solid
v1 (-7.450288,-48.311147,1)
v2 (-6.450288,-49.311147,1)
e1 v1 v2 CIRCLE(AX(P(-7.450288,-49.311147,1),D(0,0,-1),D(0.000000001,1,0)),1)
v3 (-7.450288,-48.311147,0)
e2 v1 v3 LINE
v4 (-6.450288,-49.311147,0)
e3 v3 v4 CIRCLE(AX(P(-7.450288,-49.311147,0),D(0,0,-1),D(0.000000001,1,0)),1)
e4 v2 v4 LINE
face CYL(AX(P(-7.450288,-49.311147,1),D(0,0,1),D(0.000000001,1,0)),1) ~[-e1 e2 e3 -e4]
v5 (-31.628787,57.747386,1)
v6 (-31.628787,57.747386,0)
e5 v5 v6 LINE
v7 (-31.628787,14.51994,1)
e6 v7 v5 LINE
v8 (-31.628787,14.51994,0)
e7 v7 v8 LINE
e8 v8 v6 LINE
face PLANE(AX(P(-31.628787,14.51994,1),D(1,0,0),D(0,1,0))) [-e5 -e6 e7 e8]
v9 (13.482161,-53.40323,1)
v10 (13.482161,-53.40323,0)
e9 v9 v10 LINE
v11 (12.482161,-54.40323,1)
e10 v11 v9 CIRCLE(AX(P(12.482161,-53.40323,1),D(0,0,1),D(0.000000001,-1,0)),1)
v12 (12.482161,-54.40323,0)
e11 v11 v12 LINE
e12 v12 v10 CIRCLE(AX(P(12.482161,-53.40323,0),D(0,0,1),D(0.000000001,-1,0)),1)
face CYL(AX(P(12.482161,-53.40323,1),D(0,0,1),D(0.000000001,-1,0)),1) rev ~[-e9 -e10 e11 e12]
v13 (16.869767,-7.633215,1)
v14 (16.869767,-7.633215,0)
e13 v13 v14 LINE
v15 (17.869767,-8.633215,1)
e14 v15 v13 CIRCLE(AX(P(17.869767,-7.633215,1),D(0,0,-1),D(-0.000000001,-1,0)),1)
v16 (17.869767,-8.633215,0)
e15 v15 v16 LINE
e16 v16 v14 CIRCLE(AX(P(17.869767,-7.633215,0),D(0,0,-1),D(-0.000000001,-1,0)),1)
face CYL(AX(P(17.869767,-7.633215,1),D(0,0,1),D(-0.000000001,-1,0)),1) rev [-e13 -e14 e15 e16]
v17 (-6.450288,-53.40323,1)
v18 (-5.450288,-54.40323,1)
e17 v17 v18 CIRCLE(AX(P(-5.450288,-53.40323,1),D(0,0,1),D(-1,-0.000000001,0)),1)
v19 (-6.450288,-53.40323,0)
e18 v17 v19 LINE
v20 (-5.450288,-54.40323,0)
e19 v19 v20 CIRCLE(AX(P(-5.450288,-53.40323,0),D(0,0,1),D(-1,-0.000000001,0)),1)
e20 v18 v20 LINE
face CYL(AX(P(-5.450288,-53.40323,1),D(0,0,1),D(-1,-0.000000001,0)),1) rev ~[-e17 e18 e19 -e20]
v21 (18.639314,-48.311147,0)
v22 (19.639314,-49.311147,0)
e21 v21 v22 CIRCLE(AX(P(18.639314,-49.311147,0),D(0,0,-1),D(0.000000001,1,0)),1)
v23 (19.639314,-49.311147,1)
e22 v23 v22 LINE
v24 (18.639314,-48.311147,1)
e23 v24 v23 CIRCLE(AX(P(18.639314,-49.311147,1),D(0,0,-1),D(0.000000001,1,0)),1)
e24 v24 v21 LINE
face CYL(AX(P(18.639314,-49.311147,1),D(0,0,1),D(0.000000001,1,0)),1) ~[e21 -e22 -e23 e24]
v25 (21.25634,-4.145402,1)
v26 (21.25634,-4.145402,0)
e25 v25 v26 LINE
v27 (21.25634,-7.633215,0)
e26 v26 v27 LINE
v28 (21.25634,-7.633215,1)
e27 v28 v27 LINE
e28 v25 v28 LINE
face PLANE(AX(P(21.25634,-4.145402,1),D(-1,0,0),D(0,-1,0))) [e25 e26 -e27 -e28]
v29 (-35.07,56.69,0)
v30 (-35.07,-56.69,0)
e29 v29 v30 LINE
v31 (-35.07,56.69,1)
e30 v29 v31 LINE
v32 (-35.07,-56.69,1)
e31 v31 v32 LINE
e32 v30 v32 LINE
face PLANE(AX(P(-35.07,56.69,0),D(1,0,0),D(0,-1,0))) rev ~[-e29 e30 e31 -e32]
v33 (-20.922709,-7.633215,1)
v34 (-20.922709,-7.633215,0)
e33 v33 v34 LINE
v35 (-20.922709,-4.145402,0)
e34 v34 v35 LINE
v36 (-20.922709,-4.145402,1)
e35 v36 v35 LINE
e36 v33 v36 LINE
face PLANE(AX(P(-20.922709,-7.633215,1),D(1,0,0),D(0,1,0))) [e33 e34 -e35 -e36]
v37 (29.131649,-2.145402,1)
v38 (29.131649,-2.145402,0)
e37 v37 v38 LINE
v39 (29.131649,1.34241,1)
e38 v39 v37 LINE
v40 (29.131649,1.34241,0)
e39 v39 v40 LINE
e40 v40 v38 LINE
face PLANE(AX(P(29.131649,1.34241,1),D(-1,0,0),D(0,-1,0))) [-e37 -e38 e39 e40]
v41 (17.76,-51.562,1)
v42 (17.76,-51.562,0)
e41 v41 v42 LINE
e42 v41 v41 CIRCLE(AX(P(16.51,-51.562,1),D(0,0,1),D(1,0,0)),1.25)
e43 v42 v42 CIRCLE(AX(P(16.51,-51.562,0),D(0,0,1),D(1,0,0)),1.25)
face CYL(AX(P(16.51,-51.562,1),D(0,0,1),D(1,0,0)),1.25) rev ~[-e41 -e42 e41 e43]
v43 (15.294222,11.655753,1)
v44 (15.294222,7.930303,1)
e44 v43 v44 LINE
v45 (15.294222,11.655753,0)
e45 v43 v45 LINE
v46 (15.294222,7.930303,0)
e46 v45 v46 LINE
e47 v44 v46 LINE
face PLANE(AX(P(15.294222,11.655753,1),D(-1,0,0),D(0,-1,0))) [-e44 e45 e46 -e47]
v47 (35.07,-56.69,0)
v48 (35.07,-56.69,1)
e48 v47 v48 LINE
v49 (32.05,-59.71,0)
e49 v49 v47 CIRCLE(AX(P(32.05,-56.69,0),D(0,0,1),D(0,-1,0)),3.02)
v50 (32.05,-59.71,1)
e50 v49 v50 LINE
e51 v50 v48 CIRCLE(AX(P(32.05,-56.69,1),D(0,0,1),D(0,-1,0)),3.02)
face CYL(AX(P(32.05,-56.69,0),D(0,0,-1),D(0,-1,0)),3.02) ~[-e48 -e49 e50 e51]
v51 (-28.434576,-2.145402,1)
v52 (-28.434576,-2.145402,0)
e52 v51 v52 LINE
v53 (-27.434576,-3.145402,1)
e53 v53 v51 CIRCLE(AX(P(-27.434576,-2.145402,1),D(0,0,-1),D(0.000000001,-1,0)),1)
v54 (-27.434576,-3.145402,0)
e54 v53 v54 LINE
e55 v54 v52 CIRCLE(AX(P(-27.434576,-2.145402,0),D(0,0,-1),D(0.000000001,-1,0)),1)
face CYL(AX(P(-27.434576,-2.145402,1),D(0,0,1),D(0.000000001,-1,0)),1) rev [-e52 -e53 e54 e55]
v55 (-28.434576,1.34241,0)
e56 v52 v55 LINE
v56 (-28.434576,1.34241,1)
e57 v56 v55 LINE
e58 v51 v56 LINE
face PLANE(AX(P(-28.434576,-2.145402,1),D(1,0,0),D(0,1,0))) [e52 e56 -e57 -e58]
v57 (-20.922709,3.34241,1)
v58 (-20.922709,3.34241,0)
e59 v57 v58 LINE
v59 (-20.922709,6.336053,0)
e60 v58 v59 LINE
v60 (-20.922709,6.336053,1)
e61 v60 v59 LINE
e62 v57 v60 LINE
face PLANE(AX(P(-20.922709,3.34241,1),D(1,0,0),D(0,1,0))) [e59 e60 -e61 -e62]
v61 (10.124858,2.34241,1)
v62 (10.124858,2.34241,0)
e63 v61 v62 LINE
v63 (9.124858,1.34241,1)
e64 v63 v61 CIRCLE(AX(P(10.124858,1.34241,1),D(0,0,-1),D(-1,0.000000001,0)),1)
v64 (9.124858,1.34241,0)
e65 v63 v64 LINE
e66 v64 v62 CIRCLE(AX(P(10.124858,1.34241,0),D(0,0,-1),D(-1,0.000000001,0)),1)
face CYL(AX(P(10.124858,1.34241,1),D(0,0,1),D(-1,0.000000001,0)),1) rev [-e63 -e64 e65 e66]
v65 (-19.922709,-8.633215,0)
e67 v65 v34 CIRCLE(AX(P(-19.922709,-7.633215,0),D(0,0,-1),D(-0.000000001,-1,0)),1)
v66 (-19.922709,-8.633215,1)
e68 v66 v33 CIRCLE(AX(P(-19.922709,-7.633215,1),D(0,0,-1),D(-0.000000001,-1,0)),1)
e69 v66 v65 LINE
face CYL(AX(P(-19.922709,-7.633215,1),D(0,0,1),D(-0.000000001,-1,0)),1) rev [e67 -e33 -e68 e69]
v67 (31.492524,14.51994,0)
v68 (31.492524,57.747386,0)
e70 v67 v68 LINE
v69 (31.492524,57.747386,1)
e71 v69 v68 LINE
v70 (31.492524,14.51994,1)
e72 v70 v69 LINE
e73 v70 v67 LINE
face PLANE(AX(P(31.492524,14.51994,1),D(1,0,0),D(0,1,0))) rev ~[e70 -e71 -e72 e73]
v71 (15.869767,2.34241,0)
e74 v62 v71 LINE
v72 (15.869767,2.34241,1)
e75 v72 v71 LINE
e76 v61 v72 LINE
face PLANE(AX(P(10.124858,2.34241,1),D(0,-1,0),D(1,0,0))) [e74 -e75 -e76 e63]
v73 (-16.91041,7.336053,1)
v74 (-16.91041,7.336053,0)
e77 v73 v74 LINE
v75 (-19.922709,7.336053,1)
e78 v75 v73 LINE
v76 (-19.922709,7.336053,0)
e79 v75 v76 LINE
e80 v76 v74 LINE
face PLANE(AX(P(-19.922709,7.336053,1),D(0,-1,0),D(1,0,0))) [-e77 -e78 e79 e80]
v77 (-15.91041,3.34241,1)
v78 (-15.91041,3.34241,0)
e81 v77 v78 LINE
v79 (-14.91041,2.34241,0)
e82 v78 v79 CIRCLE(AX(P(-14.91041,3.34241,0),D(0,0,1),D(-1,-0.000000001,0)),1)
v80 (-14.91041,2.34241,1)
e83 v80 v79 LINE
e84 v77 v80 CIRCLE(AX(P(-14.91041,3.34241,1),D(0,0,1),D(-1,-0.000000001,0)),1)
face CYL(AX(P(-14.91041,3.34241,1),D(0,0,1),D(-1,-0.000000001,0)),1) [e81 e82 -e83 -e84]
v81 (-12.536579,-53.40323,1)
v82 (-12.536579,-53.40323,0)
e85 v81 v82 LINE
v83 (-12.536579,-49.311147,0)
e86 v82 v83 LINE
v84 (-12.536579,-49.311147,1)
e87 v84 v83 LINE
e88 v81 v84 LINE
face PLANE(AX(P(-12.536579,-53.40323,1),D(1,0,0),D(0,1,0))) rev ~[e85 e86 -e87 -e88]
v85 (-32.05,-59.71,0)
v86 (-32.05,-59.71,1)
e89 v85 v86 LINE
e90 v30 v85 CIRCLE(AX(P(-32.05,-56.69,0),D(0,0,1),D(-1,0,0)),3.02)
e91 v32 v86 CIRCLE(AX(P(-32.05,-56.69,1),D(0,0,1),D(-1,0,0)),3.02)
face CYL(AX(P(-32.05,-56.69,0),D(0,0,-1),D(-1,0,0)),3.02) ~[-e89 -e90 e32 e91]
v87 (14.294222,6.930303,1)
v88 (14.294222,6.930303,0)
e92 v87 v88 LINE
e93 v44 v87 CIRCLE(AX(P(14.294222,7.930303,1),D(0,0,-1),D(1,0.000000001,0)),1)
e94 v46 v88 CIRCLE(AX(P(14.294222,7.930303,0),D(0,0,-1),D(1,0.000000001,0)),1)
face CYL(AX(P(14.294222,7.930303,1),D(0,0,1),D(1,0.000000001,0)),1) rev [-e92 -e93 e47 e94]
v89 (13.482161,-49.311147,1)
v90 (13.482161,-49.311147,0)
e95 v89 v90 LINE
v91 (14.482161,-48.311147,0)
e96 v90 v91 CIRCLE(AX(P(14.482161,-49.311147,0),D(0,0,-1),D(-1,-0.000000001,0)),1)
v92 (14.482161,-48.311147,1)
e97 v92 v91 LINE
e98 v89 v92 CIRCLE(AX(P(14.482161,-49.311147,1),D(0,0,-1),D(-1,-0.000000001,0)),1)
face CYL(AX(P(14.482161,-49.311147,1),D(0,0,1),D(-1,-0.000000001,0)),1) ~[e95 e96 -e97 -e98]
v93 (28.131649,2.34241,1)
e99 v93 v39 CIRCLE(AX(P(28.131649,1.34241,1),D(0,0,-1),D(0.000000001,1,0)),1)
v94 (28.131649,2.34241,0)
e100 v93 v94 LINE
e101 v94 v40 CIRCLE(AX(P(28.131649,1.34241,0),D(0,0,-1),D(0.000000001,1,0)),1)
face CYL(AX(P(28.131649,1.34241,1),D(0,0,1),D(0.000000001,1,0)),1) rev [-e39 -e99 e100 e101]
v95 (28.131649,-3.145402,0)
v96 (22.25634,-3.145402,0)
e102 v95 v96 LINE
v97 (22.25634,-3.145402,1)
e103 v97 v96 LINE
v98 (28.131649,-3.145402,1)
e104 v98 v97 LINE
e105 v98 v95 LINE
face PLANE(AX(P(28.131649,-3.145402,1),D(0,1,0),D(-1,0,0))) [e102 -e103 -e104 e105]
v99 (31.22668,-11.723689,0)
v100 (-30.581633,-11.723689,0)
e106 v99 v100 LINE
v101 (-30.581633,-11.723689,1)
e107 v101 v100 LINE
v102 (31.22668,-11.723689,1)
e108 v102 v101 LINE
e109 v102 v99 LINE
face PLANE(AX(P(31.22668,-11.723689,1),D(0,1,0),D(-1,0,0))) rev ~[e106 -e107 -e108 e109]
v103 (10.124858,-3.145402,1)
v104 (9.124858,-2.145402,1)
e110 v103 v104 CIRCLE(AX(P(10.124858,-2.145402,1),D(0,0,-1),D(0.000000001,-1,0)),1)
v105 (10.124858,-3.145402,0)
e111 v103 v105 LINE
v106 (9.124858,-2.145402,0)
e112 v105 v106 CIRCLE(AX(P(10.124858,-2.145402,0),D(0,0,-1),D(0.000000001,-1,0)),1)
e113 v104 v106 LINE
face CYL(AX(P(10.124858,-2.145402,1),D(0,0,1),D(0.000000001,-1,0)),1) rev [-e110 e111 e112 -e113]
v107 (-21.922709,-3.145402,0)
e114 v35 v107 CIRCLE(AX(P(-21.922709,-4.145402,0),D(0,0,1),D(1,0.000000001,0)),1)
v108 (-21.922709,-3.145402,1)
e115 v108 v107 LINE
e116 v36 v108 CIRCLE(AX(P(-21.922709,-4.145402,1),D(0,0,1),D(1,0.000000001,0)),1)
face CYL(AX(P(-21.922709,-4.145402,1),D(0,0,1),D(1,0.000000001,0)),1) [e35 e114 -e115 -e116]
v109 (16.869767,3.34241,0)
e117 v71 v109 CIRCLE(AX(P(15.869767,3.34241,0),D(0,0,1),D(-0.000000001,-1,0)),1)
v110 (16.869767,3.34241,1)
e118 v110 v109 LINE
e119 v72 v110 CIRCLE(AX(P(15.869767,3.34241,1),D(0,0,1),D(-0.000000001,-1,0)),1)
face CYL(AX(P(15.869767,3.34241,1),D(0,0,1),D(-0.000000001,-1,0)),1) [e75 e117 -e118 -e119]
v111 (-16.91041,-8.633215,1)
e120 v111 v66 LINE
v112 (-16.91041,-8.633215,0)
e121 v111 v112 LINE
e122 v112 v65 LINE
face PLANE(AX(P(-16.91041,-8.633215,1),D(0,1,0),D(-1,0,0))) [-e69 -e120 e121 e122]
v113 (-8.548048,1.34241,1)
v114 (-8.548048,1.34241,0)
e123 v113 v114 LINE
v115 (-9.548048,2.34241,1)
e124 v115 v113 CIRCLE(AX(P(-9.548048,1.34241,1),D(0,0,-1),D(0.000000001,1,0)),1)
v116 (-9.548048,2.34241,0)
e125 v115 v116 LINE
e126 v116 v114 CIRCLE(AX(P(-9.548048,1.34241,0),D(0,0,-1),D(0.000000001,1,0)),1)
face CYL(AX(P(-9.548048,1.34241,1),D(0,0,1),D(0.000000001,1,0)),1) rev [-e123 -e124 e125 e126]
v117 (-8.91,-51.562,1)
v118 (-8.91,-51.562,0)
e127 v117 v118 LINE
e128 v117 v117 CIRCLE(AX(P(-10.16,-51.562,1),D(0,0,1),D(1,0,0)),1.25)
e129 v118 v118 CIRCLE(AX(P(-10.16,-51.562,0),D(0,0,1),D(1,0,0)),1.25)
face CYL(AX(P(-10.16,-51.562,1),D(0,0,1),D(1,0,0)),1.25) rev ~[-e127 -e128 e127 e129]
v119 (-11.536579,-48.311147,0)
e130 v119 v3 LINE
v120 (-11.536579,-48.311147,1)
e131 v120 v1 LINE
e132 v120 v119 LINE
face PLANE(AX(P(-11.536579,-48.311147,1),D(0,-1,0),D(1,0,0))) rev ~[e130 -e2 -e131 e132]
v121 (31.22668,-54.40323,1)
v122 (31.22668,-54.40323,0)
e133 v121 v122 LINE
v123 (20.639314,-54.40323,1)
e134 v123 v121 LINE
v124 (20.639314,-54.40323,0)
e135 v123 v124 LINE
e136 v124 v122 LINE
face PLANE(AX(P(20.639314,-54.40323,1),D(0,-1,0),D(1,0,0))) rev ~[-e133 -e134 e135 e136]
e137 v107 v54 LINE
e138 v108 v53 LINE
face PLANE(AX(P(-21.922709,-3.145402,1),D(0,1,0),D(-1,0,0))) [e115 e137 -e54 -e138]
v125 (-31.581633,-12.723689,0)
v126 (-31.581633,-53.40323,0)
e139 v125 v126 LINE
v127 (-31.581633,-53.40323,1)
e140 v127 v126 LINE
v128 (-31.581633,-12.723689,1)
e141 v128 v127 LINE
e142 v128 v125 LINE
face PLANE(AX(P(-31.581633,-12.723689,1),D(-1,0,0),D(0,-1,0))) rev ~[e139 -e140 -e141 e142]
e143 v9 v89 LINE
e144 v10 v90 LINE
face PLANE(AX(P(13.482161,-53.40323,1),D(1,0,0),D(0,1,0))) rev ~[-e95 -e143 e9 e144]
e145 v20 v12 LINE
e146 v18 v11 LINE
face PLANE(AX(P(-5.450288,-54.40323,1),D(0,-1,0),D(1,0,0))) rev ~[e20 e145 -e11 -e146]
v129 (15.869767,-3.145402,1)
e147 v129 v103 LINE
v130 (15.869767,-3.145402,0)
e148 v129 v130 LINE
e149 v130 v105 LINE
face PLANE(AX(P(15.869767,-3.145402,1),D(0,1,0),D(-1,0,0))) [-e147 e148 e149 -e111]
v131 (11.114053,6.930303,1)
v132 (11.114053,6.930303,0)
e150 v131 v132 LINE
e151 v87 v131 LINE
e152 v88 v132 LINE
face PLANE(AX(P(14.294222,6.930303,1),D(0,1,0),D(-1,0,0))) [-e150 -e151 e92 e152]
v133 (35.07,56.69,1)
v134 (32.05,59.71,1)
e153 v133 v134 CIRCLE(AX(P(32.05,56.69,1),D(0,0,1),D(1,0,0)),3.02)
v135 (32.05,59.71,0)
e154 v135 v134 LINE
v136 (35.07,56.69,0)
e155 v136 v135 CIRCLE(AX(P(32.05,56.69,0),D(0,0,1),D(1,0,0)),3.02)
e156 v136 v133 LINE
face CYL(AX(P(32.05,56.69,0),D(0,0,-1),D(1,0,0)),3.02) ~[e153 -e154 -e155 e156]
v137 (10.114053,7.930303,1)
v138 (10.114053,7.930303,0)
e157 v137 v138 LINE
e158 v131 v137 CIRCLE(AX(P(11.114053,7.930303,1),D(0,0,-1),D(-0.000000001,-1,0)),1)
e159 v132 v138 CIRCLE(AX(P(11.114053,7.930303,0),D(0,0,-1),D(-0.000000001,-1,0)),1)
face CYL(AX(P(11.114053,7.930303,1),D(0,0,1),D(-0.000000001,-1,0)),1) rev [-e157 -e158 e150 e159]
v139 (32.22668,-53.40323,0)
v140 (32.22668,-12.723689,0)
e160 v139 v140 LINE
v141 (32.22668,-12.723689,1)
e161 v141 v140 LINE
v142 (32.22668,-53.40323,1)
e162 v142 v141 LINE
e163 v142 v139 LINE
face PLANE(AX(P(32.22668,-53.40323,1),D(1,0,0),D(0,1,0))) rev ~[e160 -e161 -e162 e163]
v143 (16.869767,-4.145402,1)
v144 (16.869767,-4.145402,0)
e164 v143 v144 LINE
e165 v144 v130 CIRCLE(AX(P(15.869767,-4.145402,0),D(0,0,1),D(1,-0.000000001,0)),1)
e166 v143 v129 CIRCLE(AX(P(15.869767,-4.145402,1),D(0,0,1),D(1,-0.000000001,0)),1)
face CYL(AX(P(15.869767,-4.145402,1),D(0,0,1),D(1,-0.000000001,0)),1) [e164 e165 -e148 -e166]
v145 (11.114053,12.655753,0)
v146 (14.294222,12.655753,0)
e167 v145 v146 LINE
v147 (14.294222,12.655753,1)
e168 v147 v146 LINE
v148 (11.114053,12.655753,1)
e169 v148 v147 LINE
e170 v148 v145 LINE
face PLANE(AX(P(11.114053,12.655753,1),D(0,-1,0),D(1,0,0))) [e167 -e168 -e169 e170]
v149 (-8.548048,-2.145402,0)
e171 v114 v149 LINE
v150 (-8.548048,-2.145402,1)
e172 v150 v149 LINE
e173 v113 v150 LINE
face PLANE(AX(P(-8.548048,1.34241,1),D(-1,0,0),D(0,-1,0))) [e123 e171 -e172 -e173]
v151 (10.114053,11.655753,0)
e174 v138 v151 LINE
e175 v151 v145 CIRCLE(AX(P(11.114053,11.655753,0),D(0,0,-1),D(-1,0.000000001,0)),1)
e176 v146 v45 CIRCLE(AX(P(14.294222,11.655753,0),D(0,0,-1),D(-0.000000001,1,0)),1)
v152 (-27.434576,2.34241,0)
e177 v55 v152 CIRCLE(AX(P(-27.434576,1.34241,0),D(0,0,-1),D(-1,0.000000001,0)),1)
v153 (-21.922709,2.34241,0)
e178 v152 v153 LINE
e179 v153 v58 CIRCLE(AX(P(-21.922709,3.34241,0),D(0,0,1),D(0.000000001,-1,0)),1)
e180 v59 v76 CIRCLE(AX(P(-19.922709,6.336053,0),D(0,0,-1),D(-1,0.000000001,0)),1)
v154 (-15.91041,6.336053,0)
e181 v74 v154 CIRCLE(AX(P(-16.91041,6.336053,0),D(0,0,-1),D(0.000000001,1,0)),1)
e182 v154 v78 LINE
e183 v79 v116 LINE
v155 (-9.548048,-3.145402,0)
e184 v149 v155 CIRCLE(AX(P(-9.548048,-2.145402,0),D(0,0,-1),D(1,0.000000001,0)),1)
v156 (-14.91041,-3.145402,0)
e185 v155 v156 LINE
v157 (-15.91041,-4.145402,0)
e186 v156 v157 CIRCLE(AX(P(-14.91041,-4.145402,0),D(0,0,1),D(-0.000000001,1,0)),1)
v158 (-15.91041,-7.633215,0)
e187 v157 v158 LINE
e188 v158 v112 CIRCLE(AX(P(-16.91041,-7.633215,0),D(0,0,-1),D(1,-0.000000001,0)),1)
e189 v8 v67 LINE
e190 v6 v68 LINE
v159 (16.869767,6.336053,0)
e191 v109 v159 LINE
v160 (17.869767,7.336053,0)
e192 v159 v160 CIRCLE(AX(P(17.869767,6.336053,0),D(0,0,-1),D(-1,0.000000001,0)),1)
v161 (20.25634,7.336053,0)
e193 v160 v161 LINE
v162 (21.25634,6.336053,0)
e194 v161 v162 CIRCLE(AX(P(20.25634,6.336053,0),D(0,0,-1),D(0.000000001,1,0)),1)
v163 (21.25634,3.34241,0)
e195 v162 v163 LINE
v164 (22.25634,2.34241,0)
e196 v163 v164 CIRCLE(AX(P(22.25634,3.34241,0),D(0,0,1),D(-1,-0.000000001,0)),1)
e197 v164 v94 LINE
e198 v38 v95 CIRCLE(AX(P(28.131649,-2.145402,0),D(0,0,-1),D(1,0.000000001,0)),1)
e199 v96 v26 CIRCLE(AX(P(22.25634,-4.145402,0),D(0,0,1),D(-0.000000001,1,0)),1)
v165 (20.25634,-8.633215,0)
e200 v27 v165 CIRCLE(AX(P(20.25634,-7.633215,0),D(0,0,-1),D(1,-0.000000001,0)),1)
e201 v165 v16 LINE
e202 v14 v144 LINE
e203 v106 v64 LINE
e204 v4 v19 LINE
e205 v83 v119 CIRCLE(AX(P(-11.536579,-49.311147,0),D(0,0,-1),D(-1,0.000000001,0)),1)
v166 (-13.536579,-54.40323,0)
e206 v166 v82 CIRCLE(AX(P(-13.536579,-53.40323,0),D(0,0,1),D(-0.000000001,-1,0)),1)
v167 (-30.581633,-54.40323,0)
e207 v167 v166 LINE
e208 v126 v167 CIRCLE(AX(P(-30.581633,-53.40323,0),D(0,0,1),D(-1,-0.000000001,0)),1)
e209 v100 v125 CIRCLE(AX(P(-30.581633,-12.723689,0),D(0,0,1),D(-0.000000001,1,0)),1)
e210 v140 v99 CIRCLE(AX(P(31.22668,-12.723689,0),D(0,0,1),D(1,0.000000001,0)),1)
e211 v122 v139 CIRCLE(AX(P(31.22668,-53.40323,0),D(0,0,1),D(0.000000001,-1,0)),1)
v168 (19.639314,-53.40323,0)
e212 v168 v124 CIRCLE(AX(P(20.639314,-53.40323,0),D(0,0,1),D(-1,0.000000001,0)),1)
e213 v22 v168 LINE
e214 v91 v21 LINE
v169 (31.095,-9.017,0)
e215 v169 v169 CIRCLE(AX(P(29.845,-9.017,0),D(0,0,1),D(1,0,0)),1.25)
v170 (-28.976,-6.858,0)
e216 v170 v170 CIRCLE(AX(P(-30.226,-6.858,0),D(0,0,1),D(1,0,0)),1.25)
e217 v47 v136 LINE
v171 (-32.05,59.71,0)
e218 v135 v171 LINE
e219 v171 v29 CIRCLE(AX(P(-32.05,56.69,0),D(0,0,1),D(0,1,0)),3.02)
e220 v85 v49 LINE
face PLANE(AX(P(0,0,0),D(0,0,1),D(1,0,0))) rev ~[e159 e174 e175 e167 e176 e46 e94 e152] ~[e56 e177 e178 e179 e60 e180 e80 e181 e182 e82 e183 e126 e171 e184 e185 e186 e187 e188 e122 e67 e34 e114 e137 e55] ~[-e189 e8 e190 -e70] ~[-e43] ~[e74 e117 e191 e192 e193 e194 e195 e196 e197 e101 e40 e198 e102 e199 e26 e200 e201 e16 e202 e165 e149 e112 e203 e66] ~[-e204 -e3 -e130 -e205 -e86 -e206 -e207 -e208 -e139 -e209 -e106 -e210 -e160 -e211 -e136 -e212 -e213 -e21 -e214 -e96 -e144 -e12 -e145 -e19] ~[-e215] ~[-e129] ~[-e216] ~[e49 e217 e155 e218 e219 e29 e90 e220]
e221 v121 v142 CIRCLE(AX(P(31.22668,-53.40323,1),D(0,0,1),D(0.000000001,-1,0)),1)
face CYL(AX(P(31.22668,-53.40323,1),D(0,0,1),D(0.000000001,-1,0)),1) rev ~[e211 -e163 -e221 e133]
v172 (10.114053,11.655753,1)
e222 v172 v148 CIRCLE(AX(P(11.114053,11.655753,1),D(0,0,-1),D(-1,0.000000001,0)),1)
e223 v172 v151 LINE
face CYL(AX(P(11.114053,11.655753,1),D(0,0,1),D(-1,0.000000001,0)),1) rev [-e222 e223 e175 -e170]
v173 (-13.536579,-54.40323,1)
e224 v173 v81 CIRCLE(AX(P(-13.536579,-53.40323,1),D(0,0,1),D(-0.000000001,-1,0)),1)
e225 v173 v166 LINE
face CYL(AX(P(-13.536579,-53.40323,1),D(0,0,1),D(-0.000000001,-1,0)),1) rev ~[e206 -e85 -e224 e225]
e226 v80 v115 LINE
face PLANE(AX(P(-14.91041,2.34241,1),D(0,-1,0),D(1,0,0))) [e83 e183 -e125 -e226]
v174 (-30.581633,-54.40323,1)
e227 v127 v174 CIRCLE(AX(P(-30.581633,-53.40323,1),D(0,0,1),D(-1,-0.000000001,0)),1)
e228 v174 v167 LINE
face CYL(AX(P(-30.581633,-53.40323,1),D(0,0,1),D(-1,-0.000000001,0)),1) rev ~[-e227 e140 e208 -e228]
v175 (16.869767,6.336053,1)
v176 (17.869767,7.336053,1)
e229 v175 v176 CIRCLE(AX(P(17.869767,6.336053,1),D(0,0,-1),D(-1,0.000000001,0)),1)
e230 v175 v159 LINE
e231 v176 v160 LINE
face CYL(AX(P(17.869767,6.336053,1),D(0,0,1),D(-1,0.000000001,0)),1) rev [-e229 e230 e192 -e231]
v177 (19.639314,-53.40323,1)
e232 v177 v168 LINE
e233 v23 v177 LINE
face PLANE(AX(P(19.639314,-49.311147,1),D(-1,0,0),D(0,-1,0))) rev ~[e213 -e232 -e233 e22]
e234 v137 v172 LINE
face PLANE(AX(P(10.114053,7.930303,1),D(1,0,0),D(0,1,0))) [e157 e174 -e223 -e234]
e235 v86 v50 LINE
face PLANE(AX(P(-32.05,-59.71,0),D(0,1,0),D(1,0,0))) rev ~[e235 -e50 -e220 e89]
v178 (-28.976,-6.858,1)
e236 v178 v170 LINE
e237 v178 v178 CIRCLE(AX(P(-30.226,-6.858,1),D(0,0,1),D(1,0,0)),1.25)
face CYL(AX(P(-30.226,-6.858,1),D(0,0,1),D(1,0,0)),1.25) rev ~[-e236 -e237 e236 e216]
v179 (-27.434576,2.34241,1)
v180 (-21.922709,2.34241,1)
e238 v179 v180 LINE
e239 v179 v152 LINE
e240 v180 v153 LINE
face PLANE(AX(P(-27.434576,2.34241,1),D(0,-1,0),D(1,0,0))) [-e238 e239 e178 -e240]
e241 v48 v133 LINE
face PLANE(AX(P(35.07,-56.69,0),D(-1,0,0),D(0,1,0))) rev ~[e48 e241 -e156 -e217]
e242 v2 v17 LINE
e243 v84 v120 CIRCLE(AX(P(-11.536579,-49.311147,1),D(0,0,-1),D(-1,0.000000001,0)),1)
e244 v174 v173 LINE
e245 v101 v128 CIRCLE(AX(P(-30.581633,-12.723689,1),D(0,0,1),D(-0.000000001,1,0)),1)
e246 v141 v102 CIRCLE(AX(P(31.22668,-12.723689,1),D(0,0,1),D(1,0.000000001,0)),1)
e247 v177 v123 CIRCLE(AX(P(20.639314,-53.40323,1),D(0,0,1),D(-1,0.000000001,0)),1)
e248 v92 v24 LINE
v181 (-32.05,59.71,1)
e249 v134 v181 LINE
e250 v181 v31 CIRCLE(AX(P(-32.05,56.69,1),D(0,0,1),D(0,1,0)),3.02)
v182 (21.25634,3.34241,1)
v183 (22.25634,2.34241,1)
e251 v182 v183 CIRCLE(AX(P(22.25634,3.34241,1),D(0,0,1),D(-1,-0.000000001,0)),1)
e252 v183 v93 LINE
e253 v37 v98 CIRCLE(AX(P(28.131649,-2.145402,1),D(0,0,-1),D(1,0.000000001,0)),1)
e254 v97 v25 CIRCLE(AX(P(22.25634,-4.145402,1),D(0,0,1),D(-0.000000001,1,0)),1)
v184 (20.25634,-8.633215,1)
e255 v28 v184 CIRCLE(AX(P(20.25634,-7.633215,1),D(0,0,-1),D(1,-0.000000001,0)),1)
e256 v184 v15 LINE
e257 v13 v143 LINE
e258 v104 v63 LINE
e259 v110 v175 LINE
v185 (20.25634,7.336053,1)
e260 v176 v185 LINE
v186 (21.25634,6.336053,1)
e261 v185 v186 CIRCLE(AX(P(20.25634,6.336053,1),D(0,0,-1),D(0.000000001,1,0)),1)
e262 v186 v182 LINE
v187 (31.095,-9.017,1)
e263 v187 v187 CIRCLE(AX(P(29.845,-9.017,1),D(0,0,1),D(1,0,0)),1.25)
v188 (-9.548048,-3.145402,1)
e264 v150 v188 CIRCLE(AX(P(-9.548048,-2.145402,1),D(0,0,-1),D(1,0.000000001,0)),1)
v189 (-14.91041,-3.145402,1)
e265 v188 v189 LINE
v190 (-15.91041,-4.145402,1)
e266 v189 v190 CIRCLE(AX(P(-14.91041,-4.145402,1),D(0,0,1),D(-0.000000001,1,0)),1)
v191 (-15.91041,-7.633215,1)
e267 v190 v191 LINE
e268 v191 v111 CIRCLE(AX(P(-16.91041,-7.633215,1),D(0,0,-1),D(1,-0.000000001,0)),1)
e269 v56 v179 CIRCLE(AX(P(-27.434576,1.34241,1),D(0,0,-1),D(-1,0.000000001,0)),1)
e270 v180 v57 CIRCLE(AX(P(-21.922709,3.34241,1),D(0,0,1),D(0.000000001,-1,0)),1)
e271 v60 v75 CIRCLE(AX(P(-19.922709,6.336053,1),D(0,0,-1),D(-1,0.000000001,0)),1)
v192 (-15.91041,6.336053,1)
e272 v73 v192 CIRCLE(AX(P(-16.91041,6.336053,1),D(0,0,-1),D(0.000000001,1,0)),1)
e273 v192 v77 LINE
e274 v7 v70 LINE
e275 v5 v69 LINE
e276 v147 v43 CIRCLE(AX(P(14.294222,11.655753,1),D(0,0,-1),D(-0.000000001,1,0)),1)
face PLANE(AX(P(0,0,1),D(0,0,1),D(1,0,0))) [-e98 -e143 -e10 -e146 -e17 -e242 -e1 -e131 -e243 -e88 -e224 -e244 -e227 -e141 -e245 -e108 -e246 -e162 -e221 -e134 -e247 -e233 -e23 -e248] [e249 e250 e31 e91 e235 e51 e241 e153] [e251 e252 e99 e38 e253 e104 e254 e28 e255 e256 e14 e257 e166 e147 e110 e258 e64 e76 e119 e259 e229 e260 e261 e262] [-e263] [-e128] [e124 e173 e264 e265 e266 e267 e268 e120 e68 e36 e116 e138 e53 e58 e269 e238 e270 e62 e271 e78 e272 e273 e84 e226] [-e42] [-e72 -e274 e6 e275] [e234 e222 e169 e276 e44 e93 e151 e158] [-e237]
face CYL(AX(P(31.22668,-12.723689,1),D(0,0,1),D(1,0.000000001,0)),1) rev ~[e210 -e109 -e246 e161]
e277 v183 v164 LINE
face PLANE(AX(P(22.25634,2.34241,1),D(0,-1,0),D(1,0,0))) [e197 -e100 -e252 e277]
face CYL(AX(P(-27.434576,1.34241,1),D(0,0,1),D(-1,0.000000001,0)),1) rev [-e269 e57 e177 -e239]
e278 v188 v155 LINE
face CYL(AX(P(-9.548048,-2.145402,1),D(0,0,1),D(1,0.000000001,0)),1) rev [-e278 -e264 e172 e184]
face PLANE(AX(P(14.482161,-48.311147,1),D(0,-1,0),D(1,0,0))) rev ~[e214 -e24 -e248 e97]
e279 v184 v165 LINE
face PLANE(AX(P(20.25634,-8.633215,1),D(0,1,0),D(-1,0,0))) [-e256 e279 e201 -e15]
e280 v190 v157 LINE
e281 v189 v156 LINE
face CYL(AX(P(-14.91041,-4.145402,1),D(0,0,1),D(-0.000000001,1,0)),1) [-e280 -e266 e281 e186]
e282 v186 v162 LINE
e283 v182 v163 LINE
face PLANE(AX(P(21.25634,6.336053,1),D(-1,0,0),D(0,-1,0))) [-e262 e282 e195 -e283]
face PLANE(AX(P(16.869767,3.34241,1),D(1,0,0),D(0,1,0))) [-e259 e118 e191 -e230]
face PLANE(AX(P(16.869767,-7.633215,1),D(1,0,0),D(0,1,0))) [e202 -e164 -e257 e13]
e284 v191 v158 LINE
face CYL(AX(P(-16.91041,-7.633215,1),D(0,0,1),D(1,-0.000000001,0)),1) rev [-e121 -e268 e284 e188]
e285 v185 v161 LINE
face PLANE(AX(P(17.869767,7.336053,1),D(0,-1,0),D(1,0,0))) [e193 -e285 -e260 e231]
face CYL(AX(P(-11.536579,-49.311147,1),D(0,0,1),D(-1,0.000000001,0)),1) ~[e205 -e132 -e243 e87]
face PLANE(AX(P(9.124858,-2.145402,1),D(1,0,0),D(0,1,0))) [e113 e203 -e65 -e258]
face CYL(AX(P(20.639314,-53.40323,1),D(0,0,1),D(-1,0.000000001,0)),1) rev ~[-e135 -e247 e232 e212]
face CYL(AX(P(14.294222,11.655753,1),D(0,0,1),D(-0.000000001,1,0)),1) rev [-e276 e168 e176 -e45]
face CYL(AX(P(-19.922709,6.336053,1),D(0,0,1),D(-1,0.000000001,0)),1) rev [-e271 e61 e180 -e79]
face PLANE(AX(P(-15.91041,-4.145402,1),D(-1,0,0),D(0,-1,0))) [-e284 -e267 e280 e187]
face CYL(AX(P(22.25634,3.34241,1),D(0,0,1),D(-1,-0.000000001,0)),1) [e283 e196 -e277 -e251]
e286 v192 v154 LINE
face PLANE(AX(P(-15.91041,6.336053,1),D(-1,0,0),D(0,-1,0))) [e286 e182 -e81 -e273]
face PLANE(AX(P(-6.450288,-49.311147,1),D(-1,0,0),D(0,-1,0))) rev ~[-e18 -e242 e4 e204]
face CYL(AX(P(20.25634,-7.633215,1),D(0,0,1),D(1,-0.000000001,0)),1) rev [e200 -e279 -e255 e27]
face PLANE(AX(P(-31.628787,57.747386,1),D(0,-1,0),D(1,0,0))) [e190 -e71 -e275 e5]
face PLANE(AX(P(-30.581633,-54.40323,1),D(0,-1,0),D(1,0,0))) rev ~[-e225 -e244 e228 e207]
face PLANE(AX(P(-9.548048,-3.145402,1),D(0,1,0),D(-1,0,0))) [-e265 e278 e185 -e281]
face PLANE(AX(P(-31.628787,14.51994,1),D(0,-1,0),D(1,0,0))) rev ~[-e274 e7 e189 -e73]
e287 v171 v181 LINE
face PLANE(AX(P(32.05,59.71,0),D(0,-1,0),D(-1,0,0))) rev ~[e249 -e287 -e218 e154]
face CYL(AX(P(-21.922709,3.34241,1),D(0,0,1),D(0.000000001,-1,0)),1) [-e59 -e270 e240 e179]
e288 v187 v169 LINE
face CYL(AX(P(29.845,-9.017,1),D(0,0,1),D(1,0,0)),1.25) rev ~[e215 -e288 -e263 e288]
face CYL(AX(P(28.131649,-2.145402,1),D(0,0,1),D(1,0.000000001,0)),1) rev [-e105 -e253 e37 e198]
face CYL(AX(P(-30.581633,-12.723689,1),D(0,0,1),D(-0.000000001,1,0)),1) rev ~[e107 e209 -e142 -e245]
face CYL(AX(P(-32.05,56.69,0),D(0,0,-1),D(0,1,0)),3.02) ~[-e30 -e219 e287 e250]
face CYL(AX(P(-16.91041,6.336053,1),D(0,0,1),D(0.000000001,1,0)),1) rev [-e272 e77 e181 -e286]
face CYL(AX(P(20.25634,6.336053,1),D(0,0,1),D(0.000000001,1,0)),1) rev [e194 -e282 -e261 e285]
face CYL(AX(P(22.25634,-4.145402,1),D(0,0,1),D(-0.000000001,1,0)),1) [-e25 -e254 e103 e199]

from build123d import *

# Parameters (mm, degrees)
BOSS_EXTRU_1_DEPTH      = 1
ESQUISSE2_W             = 63.121311346
ESQUISSE2_H             = 43.227445896
ENL_V_MAT_EXTRU_1_DEPTH = 1
ENL_V_MAT_EXTRU_2_DEPTH = 1
ESQUISSE4_R             = 1.25
ENL_V_MAT_EXTRU_3_DEPTH = 1


with BuildPart() as part:
    # Esquisse1 → Boss.-Extru.1 (new body)
    with BuildSketch(Plane.XY):
        with BuildLine():
            Line((-32.05, -59.71), (32.05, -59.71))
            ThreePointArc((32.05, -59.71), (34.185462479, -58.825462479), (35.07, -56.69))
            Line((35.07, -56.69), (35.07, 56.69))
            ThreePointArc((35.07, 56.69), (34.185462479, 58.825462479), (32.05, 59.71))
            Line((32.05, 59.71), (-32.05, 59.71))
            ThreePointArc((-32.05, 59.71), (-34.185462479, 58.825462479), (-35.07, 56.69))
            Line((-35.07, 56.69), (-35.07, -56.69))
            ThreePointArc((-35.07, -56.69), (-34.185462479, -58.825462479), (-32.05, -59.71))
        make_face()
    extrude(amount=BOSS_EXTRU_1_DEPTH)

    # Esquisse2 → Enlèv. mat.-Extru.1 (cut)
    with BuildSketch(Plane.XY.offset(1)):
        with Locations((-0.068131464, 36.133663017)):
            Rectangle(ESQUISSE2_W, ESQUISSE2_H)
    extrude(amount=-ENL_V_MAT_EXTRU_1_DEPTH, mode=Mode.SUBTRACT)

    # Esquisse3 → Enlèv. mat.-Extru.2 (cut)
    with BuildSketch(Plane.XY.offset(1)):
        with BuildLine():
            Line((-5.450287773, -54.403229927), (12.482160985, -54.403229927))
            ThreePointArc((12.482160985, -54.403229927), (13.189267766, -54.110336708), (13.482160985, -53.403229927))
            Line((13.482160985, -53.403229927), (13.482160985, -49.311147183))
            ThreePointArc((13.482160985, -49.311147183), (13.775054203, -48.604040402), (14.482160985, -48.311147183))
            Line((14.482160985, -48.311147183), (18.639313678, -48.311147183))
            ThreePointArc((18.639313678, -48.311147183), (19.346420459, -48.604040402), (19.639313678, -49.311147183))
            Line((19.639313678, -49.311147183), (19.639313678, -53.403229927))
            ThreePointArc((19.639313678, -53.403229927), (19.932206896, -54.110336708), (20.639313678, -54.403229927))
            Line((20.639313678, -54.403229927), (31.226680359, -54.403229927))
            ThreePointArc((31.226680359, -54.403229927), (31.93378714, -54.110336708), (32.226680359, -53.403229927))
            Line((32.226680359, -53.403229927), (32.226680359, -12.723689117))
            ThreePointArc((32.226680359, -12.723689117), (31.93378714, -12.016582336), (31.226680359, -11.723689117))
            Line((31.226680359, -11.723689117), (-30.58163263, -11.723689117))
            ThreePointArc((-30.58163263, -11.723689117), (-31.288739411, -12.016582336), (-31.58163263, -12.723689117))
            Line((-31.58163263, -12.723689117), (-31.58163263, -53.403229927))
            ThreePointArc((-31.58163263, -53.403229927), (-31.288739411, -54.110336708), (-30.58163263, -54.403229927))
            Line((-30.58163263, -54.403229927), (-13.536578839, -54.403229927))
            ThreePointArc((-13.536578839, -54.403229927), (-12.829472057, -54.110336708), (-12.536578839, -53.403229927))
            Line((-12.536578839, -53.403229927), (-12.536578839, -49.311147183))
            ThreePointArc((-12.536578839, -49.311147183), (-12.24368562, -48.604040402), (-11.536578839, -48.311147183))
            Line((-11.536578839, -48.311147183), (-7.450287773, -48.311147183))
            ThreePointArc((-7.450287773, -48.311147183), (-6.743180992, -48.604040402), (-6.450287773, -49.311147183))
            Line((-6.450287773, -49.311147183), (-6.450287773, -53.403229927))
            ThreePointArc((-6.450287773, -53.403229927), (-6.157394554, -54.110336708), (-5.450287773, -54.403229927))
        make_face()
        with BuildLine():
            Line((-14.910409974, 2.342410274), (-9.548047777, 2.342410274))
            ThreePointArc((-9.548047777, 2.342410274), (-8.840940996, 2.049517055), (-8.548047777, 1.342410274))
            Line((-8.548047777, 1.342410274), (-8.548047777, -2.145402138))
            ThreePointArc((-8.548047777, -2.145402138), (-8.840940996, -2.85250892), (-9.548047777, -3.145402138))
            Line((-9.548047777, -3.145402138), (-14.910409974, -3.145402138))
            ThreePointArc((-14.910409974, -3.145402138), (-15.617516755, -3.438295357), (-15.910409974, -4.145402138))
            Line((-15.910409974, -4.145402138), (-15.910409974, -7.633214551))
            ThreePointArc((-15.910409974, -7.633214551), (-16.203303193, -8.340321332), (-16.910409974, -8.633214551))
            Line((-16.910409974, -8.633214551), (-19.922709244, -8.633214551))
            ThreePointArc((-19.922709244, -8.633214551), (-20.629816025, -8.340321332), (-20.922709244, -7.633214551))
            Line((-20.922709244, -7.633214551), (-20.922709244, -4.145402138))
            ThreePointArc((-20.922709244, -4.145402138), (-21.215602463, -3.438295357), (-21.922709244, -3.145402138))
            Line((-21.922709244, -3.145402138), (-27.434575926, -3.145402138))
            ThreePointArc((-27.434575926, -3.145402138), (-28.141682707, -2.85250892), (-28.434575926, -2.145402138))
            Line((-28.434575926, -2.145402138), (-28.434575926, 1.342410274))
            ThreePointArc((-28.434575926, 1.342410274), (-28.141682707, 2.049517055), (-27.434575926, 2.342410274))
            Line((-27.434575926, 2.342410274), (-21.922709244, 2.342410274))
            ThreePointArc((-21.922709244, 2.342410274), (-21.215602463, 2.635303493), (-20.922709244, 3.342410274))
            Line((-20.922709244, 3.342410274), (-20.922709244, 6.336052927))
            ThreePointArc((-20.922709244, 6.336052927), (-20.629816025, 7.043159708), (-19.922709244, 7.336052927))
            Line((-19.922709244, 7.336052927), (-16.910409974, 7.336052927))
            ThreePointArc((-16.910409974, 7.336052927), (-16.203303193, 7.043159708), (-15.910409974, 6.336052927))
            Line((-15.910409974, 6.336052927), (-15.910409974, 3.342410274))
            ThreePointArc((-15.910409974, 3.342410274), (-15.617516755, 2.635303493), (-14.910409974, 2.342410274))
        make_face()
        with BuildLine():
            Line((22.256339951, 2.342410274), (28.131649076, 2.342410274))
            ThreePointArc((28.131649076, 2.342410274), (28.838755857, 2.049517055), (29.131649076, 1.342410274))
            Line((29.131649076, 1.342410274), (29.131649076, -2.145402138))
            ThreePointArc((29.131649076, -2.145402138), (28.838755857, -2.85250892), (28.131649076, -3.145402138))
            Line((28.131649076, -3.145402138), (22.256339951, -3.145402138))
            ThreePointArc((22.256339951, -3.145402138), (21.54923317, -3.438295357), (21.256339951, -4.145402138))
            Line((21.256339951, -4.145402138), (21.256339951, -7.633214551))
            ThreePointArc((21.256339951, -7.633214551), (20.963446732, -8.340321332), (20.256339951, -8.633214551))
            Line((20.256339951, -8.633214551), (17.869767116, -8.633214551))
            ThreePointArc((17.869767116, -8.633214551), (17.162660335, -8.340321332), (16.869767116, -7.633214551))
            Line((16.869767116, -7.633214551), (16.869767116, -4.145402138))
            ThreePointArc((16.869767116, -4.145402138), (16.576873898, -3.438295357), (15.869767116, -3.145402138))
            Line((15.869767116, -3.145402138), (10.124858061, -3.145402138))
            ThreePointArc((10.124858061, -3.145402138), (9.41775128, -2.85250892), (9.124858061, -2.145402138))
            Line((9.124858061, -2.145402138), (9.124858061, 1.342410274))
            ThreePointArc((9.124858061, 1.342410274), (9.41775128, 2.049517055), (10.124858061, 2.342410274))
            Line((10.124858061, 2.342410274), (15.869767116, 2.342410274))
            ThreePointArc((15.869767116, 2.342410274), (16.576873898, 2.635303493), (16.869767116, 3.342410274))
            Line((16.869767116, 3.342410274), (16.869767116, 6.336052927))
            ThreePointArc((16.869767116, 6.336052927), (17.162660335, 7.043159708), (17.869767116, 7.336052927))
            Line((17.869767116, 7.336052927), (20.256339951, 7.336052927))
            ThreePointArc((20.256339951, 7.336052927), (20.963446732, 7.043159708), (21.256339951, 6.336052927))
            Line((21.256339951, 6.336052927), (21.256339951, 3.342410274))
            ThreePointArc((21.256339951, 3.342410274), (21.54923317, 2.635303493), (22.256339951, 2.342410274))
        make_face()
        with BuildLine():
            Line((11.114053306, 12.655752766), (14.294222496, 12.655752766))
            ThreePointArc((14.294222496, 12.655752766), (15.001329278, 12.362859547), (15.294222496, 11.655752766))
            Line((15.294222496, 11.655752766), (15.294222496, 7.930302608))
            ThreePointArc((15.294222496, 7.930302608), (15.001329278, 7.223195827), (14.294222496, 6.930302608))
            Line((14.294222496, 6.930302608), (11.114053306, 6.930302608))
            ThreePointArc((11.114053306, 6.930302608), (10.406946525, 7.223195827), (10.114053306, 7.930302608))
            Line((10.114053306, 7.930302608), (10.114053306, 11.655752766))
            ThreePointArc((10.114053306, 11.655752766), (10.406946525, 12.362859547), (11.114053306, 12.655752766))
        make_face()
    extrude(amount=-ENL_V_MAT_EXTRU_2_DEPTH, mode=Mode.SUBTRACT)

    # Esquisse4 → Enlèv. mat.-Extru.3 (cut)
    with BuildSketch(Plane.XY.offset(1)):
        with Locations((-30.226, -6.858)):
            Circle(ESQUISSE4_R)
        with Locations((29.845, -9.017)):
            Circle(ESQUISSE4_R)
        with Locations((16.51, -51.562)):
            Circle(ESQUISSE4_R)
        with Locations((-10.16, -51.562)):
            Circle(ESQUISSE4_R)
    extrude(amount=-ENL_V_MAT_EXTRU_3_DEPTH, mode=Mode.SUBTRACT)


solid = part.part
